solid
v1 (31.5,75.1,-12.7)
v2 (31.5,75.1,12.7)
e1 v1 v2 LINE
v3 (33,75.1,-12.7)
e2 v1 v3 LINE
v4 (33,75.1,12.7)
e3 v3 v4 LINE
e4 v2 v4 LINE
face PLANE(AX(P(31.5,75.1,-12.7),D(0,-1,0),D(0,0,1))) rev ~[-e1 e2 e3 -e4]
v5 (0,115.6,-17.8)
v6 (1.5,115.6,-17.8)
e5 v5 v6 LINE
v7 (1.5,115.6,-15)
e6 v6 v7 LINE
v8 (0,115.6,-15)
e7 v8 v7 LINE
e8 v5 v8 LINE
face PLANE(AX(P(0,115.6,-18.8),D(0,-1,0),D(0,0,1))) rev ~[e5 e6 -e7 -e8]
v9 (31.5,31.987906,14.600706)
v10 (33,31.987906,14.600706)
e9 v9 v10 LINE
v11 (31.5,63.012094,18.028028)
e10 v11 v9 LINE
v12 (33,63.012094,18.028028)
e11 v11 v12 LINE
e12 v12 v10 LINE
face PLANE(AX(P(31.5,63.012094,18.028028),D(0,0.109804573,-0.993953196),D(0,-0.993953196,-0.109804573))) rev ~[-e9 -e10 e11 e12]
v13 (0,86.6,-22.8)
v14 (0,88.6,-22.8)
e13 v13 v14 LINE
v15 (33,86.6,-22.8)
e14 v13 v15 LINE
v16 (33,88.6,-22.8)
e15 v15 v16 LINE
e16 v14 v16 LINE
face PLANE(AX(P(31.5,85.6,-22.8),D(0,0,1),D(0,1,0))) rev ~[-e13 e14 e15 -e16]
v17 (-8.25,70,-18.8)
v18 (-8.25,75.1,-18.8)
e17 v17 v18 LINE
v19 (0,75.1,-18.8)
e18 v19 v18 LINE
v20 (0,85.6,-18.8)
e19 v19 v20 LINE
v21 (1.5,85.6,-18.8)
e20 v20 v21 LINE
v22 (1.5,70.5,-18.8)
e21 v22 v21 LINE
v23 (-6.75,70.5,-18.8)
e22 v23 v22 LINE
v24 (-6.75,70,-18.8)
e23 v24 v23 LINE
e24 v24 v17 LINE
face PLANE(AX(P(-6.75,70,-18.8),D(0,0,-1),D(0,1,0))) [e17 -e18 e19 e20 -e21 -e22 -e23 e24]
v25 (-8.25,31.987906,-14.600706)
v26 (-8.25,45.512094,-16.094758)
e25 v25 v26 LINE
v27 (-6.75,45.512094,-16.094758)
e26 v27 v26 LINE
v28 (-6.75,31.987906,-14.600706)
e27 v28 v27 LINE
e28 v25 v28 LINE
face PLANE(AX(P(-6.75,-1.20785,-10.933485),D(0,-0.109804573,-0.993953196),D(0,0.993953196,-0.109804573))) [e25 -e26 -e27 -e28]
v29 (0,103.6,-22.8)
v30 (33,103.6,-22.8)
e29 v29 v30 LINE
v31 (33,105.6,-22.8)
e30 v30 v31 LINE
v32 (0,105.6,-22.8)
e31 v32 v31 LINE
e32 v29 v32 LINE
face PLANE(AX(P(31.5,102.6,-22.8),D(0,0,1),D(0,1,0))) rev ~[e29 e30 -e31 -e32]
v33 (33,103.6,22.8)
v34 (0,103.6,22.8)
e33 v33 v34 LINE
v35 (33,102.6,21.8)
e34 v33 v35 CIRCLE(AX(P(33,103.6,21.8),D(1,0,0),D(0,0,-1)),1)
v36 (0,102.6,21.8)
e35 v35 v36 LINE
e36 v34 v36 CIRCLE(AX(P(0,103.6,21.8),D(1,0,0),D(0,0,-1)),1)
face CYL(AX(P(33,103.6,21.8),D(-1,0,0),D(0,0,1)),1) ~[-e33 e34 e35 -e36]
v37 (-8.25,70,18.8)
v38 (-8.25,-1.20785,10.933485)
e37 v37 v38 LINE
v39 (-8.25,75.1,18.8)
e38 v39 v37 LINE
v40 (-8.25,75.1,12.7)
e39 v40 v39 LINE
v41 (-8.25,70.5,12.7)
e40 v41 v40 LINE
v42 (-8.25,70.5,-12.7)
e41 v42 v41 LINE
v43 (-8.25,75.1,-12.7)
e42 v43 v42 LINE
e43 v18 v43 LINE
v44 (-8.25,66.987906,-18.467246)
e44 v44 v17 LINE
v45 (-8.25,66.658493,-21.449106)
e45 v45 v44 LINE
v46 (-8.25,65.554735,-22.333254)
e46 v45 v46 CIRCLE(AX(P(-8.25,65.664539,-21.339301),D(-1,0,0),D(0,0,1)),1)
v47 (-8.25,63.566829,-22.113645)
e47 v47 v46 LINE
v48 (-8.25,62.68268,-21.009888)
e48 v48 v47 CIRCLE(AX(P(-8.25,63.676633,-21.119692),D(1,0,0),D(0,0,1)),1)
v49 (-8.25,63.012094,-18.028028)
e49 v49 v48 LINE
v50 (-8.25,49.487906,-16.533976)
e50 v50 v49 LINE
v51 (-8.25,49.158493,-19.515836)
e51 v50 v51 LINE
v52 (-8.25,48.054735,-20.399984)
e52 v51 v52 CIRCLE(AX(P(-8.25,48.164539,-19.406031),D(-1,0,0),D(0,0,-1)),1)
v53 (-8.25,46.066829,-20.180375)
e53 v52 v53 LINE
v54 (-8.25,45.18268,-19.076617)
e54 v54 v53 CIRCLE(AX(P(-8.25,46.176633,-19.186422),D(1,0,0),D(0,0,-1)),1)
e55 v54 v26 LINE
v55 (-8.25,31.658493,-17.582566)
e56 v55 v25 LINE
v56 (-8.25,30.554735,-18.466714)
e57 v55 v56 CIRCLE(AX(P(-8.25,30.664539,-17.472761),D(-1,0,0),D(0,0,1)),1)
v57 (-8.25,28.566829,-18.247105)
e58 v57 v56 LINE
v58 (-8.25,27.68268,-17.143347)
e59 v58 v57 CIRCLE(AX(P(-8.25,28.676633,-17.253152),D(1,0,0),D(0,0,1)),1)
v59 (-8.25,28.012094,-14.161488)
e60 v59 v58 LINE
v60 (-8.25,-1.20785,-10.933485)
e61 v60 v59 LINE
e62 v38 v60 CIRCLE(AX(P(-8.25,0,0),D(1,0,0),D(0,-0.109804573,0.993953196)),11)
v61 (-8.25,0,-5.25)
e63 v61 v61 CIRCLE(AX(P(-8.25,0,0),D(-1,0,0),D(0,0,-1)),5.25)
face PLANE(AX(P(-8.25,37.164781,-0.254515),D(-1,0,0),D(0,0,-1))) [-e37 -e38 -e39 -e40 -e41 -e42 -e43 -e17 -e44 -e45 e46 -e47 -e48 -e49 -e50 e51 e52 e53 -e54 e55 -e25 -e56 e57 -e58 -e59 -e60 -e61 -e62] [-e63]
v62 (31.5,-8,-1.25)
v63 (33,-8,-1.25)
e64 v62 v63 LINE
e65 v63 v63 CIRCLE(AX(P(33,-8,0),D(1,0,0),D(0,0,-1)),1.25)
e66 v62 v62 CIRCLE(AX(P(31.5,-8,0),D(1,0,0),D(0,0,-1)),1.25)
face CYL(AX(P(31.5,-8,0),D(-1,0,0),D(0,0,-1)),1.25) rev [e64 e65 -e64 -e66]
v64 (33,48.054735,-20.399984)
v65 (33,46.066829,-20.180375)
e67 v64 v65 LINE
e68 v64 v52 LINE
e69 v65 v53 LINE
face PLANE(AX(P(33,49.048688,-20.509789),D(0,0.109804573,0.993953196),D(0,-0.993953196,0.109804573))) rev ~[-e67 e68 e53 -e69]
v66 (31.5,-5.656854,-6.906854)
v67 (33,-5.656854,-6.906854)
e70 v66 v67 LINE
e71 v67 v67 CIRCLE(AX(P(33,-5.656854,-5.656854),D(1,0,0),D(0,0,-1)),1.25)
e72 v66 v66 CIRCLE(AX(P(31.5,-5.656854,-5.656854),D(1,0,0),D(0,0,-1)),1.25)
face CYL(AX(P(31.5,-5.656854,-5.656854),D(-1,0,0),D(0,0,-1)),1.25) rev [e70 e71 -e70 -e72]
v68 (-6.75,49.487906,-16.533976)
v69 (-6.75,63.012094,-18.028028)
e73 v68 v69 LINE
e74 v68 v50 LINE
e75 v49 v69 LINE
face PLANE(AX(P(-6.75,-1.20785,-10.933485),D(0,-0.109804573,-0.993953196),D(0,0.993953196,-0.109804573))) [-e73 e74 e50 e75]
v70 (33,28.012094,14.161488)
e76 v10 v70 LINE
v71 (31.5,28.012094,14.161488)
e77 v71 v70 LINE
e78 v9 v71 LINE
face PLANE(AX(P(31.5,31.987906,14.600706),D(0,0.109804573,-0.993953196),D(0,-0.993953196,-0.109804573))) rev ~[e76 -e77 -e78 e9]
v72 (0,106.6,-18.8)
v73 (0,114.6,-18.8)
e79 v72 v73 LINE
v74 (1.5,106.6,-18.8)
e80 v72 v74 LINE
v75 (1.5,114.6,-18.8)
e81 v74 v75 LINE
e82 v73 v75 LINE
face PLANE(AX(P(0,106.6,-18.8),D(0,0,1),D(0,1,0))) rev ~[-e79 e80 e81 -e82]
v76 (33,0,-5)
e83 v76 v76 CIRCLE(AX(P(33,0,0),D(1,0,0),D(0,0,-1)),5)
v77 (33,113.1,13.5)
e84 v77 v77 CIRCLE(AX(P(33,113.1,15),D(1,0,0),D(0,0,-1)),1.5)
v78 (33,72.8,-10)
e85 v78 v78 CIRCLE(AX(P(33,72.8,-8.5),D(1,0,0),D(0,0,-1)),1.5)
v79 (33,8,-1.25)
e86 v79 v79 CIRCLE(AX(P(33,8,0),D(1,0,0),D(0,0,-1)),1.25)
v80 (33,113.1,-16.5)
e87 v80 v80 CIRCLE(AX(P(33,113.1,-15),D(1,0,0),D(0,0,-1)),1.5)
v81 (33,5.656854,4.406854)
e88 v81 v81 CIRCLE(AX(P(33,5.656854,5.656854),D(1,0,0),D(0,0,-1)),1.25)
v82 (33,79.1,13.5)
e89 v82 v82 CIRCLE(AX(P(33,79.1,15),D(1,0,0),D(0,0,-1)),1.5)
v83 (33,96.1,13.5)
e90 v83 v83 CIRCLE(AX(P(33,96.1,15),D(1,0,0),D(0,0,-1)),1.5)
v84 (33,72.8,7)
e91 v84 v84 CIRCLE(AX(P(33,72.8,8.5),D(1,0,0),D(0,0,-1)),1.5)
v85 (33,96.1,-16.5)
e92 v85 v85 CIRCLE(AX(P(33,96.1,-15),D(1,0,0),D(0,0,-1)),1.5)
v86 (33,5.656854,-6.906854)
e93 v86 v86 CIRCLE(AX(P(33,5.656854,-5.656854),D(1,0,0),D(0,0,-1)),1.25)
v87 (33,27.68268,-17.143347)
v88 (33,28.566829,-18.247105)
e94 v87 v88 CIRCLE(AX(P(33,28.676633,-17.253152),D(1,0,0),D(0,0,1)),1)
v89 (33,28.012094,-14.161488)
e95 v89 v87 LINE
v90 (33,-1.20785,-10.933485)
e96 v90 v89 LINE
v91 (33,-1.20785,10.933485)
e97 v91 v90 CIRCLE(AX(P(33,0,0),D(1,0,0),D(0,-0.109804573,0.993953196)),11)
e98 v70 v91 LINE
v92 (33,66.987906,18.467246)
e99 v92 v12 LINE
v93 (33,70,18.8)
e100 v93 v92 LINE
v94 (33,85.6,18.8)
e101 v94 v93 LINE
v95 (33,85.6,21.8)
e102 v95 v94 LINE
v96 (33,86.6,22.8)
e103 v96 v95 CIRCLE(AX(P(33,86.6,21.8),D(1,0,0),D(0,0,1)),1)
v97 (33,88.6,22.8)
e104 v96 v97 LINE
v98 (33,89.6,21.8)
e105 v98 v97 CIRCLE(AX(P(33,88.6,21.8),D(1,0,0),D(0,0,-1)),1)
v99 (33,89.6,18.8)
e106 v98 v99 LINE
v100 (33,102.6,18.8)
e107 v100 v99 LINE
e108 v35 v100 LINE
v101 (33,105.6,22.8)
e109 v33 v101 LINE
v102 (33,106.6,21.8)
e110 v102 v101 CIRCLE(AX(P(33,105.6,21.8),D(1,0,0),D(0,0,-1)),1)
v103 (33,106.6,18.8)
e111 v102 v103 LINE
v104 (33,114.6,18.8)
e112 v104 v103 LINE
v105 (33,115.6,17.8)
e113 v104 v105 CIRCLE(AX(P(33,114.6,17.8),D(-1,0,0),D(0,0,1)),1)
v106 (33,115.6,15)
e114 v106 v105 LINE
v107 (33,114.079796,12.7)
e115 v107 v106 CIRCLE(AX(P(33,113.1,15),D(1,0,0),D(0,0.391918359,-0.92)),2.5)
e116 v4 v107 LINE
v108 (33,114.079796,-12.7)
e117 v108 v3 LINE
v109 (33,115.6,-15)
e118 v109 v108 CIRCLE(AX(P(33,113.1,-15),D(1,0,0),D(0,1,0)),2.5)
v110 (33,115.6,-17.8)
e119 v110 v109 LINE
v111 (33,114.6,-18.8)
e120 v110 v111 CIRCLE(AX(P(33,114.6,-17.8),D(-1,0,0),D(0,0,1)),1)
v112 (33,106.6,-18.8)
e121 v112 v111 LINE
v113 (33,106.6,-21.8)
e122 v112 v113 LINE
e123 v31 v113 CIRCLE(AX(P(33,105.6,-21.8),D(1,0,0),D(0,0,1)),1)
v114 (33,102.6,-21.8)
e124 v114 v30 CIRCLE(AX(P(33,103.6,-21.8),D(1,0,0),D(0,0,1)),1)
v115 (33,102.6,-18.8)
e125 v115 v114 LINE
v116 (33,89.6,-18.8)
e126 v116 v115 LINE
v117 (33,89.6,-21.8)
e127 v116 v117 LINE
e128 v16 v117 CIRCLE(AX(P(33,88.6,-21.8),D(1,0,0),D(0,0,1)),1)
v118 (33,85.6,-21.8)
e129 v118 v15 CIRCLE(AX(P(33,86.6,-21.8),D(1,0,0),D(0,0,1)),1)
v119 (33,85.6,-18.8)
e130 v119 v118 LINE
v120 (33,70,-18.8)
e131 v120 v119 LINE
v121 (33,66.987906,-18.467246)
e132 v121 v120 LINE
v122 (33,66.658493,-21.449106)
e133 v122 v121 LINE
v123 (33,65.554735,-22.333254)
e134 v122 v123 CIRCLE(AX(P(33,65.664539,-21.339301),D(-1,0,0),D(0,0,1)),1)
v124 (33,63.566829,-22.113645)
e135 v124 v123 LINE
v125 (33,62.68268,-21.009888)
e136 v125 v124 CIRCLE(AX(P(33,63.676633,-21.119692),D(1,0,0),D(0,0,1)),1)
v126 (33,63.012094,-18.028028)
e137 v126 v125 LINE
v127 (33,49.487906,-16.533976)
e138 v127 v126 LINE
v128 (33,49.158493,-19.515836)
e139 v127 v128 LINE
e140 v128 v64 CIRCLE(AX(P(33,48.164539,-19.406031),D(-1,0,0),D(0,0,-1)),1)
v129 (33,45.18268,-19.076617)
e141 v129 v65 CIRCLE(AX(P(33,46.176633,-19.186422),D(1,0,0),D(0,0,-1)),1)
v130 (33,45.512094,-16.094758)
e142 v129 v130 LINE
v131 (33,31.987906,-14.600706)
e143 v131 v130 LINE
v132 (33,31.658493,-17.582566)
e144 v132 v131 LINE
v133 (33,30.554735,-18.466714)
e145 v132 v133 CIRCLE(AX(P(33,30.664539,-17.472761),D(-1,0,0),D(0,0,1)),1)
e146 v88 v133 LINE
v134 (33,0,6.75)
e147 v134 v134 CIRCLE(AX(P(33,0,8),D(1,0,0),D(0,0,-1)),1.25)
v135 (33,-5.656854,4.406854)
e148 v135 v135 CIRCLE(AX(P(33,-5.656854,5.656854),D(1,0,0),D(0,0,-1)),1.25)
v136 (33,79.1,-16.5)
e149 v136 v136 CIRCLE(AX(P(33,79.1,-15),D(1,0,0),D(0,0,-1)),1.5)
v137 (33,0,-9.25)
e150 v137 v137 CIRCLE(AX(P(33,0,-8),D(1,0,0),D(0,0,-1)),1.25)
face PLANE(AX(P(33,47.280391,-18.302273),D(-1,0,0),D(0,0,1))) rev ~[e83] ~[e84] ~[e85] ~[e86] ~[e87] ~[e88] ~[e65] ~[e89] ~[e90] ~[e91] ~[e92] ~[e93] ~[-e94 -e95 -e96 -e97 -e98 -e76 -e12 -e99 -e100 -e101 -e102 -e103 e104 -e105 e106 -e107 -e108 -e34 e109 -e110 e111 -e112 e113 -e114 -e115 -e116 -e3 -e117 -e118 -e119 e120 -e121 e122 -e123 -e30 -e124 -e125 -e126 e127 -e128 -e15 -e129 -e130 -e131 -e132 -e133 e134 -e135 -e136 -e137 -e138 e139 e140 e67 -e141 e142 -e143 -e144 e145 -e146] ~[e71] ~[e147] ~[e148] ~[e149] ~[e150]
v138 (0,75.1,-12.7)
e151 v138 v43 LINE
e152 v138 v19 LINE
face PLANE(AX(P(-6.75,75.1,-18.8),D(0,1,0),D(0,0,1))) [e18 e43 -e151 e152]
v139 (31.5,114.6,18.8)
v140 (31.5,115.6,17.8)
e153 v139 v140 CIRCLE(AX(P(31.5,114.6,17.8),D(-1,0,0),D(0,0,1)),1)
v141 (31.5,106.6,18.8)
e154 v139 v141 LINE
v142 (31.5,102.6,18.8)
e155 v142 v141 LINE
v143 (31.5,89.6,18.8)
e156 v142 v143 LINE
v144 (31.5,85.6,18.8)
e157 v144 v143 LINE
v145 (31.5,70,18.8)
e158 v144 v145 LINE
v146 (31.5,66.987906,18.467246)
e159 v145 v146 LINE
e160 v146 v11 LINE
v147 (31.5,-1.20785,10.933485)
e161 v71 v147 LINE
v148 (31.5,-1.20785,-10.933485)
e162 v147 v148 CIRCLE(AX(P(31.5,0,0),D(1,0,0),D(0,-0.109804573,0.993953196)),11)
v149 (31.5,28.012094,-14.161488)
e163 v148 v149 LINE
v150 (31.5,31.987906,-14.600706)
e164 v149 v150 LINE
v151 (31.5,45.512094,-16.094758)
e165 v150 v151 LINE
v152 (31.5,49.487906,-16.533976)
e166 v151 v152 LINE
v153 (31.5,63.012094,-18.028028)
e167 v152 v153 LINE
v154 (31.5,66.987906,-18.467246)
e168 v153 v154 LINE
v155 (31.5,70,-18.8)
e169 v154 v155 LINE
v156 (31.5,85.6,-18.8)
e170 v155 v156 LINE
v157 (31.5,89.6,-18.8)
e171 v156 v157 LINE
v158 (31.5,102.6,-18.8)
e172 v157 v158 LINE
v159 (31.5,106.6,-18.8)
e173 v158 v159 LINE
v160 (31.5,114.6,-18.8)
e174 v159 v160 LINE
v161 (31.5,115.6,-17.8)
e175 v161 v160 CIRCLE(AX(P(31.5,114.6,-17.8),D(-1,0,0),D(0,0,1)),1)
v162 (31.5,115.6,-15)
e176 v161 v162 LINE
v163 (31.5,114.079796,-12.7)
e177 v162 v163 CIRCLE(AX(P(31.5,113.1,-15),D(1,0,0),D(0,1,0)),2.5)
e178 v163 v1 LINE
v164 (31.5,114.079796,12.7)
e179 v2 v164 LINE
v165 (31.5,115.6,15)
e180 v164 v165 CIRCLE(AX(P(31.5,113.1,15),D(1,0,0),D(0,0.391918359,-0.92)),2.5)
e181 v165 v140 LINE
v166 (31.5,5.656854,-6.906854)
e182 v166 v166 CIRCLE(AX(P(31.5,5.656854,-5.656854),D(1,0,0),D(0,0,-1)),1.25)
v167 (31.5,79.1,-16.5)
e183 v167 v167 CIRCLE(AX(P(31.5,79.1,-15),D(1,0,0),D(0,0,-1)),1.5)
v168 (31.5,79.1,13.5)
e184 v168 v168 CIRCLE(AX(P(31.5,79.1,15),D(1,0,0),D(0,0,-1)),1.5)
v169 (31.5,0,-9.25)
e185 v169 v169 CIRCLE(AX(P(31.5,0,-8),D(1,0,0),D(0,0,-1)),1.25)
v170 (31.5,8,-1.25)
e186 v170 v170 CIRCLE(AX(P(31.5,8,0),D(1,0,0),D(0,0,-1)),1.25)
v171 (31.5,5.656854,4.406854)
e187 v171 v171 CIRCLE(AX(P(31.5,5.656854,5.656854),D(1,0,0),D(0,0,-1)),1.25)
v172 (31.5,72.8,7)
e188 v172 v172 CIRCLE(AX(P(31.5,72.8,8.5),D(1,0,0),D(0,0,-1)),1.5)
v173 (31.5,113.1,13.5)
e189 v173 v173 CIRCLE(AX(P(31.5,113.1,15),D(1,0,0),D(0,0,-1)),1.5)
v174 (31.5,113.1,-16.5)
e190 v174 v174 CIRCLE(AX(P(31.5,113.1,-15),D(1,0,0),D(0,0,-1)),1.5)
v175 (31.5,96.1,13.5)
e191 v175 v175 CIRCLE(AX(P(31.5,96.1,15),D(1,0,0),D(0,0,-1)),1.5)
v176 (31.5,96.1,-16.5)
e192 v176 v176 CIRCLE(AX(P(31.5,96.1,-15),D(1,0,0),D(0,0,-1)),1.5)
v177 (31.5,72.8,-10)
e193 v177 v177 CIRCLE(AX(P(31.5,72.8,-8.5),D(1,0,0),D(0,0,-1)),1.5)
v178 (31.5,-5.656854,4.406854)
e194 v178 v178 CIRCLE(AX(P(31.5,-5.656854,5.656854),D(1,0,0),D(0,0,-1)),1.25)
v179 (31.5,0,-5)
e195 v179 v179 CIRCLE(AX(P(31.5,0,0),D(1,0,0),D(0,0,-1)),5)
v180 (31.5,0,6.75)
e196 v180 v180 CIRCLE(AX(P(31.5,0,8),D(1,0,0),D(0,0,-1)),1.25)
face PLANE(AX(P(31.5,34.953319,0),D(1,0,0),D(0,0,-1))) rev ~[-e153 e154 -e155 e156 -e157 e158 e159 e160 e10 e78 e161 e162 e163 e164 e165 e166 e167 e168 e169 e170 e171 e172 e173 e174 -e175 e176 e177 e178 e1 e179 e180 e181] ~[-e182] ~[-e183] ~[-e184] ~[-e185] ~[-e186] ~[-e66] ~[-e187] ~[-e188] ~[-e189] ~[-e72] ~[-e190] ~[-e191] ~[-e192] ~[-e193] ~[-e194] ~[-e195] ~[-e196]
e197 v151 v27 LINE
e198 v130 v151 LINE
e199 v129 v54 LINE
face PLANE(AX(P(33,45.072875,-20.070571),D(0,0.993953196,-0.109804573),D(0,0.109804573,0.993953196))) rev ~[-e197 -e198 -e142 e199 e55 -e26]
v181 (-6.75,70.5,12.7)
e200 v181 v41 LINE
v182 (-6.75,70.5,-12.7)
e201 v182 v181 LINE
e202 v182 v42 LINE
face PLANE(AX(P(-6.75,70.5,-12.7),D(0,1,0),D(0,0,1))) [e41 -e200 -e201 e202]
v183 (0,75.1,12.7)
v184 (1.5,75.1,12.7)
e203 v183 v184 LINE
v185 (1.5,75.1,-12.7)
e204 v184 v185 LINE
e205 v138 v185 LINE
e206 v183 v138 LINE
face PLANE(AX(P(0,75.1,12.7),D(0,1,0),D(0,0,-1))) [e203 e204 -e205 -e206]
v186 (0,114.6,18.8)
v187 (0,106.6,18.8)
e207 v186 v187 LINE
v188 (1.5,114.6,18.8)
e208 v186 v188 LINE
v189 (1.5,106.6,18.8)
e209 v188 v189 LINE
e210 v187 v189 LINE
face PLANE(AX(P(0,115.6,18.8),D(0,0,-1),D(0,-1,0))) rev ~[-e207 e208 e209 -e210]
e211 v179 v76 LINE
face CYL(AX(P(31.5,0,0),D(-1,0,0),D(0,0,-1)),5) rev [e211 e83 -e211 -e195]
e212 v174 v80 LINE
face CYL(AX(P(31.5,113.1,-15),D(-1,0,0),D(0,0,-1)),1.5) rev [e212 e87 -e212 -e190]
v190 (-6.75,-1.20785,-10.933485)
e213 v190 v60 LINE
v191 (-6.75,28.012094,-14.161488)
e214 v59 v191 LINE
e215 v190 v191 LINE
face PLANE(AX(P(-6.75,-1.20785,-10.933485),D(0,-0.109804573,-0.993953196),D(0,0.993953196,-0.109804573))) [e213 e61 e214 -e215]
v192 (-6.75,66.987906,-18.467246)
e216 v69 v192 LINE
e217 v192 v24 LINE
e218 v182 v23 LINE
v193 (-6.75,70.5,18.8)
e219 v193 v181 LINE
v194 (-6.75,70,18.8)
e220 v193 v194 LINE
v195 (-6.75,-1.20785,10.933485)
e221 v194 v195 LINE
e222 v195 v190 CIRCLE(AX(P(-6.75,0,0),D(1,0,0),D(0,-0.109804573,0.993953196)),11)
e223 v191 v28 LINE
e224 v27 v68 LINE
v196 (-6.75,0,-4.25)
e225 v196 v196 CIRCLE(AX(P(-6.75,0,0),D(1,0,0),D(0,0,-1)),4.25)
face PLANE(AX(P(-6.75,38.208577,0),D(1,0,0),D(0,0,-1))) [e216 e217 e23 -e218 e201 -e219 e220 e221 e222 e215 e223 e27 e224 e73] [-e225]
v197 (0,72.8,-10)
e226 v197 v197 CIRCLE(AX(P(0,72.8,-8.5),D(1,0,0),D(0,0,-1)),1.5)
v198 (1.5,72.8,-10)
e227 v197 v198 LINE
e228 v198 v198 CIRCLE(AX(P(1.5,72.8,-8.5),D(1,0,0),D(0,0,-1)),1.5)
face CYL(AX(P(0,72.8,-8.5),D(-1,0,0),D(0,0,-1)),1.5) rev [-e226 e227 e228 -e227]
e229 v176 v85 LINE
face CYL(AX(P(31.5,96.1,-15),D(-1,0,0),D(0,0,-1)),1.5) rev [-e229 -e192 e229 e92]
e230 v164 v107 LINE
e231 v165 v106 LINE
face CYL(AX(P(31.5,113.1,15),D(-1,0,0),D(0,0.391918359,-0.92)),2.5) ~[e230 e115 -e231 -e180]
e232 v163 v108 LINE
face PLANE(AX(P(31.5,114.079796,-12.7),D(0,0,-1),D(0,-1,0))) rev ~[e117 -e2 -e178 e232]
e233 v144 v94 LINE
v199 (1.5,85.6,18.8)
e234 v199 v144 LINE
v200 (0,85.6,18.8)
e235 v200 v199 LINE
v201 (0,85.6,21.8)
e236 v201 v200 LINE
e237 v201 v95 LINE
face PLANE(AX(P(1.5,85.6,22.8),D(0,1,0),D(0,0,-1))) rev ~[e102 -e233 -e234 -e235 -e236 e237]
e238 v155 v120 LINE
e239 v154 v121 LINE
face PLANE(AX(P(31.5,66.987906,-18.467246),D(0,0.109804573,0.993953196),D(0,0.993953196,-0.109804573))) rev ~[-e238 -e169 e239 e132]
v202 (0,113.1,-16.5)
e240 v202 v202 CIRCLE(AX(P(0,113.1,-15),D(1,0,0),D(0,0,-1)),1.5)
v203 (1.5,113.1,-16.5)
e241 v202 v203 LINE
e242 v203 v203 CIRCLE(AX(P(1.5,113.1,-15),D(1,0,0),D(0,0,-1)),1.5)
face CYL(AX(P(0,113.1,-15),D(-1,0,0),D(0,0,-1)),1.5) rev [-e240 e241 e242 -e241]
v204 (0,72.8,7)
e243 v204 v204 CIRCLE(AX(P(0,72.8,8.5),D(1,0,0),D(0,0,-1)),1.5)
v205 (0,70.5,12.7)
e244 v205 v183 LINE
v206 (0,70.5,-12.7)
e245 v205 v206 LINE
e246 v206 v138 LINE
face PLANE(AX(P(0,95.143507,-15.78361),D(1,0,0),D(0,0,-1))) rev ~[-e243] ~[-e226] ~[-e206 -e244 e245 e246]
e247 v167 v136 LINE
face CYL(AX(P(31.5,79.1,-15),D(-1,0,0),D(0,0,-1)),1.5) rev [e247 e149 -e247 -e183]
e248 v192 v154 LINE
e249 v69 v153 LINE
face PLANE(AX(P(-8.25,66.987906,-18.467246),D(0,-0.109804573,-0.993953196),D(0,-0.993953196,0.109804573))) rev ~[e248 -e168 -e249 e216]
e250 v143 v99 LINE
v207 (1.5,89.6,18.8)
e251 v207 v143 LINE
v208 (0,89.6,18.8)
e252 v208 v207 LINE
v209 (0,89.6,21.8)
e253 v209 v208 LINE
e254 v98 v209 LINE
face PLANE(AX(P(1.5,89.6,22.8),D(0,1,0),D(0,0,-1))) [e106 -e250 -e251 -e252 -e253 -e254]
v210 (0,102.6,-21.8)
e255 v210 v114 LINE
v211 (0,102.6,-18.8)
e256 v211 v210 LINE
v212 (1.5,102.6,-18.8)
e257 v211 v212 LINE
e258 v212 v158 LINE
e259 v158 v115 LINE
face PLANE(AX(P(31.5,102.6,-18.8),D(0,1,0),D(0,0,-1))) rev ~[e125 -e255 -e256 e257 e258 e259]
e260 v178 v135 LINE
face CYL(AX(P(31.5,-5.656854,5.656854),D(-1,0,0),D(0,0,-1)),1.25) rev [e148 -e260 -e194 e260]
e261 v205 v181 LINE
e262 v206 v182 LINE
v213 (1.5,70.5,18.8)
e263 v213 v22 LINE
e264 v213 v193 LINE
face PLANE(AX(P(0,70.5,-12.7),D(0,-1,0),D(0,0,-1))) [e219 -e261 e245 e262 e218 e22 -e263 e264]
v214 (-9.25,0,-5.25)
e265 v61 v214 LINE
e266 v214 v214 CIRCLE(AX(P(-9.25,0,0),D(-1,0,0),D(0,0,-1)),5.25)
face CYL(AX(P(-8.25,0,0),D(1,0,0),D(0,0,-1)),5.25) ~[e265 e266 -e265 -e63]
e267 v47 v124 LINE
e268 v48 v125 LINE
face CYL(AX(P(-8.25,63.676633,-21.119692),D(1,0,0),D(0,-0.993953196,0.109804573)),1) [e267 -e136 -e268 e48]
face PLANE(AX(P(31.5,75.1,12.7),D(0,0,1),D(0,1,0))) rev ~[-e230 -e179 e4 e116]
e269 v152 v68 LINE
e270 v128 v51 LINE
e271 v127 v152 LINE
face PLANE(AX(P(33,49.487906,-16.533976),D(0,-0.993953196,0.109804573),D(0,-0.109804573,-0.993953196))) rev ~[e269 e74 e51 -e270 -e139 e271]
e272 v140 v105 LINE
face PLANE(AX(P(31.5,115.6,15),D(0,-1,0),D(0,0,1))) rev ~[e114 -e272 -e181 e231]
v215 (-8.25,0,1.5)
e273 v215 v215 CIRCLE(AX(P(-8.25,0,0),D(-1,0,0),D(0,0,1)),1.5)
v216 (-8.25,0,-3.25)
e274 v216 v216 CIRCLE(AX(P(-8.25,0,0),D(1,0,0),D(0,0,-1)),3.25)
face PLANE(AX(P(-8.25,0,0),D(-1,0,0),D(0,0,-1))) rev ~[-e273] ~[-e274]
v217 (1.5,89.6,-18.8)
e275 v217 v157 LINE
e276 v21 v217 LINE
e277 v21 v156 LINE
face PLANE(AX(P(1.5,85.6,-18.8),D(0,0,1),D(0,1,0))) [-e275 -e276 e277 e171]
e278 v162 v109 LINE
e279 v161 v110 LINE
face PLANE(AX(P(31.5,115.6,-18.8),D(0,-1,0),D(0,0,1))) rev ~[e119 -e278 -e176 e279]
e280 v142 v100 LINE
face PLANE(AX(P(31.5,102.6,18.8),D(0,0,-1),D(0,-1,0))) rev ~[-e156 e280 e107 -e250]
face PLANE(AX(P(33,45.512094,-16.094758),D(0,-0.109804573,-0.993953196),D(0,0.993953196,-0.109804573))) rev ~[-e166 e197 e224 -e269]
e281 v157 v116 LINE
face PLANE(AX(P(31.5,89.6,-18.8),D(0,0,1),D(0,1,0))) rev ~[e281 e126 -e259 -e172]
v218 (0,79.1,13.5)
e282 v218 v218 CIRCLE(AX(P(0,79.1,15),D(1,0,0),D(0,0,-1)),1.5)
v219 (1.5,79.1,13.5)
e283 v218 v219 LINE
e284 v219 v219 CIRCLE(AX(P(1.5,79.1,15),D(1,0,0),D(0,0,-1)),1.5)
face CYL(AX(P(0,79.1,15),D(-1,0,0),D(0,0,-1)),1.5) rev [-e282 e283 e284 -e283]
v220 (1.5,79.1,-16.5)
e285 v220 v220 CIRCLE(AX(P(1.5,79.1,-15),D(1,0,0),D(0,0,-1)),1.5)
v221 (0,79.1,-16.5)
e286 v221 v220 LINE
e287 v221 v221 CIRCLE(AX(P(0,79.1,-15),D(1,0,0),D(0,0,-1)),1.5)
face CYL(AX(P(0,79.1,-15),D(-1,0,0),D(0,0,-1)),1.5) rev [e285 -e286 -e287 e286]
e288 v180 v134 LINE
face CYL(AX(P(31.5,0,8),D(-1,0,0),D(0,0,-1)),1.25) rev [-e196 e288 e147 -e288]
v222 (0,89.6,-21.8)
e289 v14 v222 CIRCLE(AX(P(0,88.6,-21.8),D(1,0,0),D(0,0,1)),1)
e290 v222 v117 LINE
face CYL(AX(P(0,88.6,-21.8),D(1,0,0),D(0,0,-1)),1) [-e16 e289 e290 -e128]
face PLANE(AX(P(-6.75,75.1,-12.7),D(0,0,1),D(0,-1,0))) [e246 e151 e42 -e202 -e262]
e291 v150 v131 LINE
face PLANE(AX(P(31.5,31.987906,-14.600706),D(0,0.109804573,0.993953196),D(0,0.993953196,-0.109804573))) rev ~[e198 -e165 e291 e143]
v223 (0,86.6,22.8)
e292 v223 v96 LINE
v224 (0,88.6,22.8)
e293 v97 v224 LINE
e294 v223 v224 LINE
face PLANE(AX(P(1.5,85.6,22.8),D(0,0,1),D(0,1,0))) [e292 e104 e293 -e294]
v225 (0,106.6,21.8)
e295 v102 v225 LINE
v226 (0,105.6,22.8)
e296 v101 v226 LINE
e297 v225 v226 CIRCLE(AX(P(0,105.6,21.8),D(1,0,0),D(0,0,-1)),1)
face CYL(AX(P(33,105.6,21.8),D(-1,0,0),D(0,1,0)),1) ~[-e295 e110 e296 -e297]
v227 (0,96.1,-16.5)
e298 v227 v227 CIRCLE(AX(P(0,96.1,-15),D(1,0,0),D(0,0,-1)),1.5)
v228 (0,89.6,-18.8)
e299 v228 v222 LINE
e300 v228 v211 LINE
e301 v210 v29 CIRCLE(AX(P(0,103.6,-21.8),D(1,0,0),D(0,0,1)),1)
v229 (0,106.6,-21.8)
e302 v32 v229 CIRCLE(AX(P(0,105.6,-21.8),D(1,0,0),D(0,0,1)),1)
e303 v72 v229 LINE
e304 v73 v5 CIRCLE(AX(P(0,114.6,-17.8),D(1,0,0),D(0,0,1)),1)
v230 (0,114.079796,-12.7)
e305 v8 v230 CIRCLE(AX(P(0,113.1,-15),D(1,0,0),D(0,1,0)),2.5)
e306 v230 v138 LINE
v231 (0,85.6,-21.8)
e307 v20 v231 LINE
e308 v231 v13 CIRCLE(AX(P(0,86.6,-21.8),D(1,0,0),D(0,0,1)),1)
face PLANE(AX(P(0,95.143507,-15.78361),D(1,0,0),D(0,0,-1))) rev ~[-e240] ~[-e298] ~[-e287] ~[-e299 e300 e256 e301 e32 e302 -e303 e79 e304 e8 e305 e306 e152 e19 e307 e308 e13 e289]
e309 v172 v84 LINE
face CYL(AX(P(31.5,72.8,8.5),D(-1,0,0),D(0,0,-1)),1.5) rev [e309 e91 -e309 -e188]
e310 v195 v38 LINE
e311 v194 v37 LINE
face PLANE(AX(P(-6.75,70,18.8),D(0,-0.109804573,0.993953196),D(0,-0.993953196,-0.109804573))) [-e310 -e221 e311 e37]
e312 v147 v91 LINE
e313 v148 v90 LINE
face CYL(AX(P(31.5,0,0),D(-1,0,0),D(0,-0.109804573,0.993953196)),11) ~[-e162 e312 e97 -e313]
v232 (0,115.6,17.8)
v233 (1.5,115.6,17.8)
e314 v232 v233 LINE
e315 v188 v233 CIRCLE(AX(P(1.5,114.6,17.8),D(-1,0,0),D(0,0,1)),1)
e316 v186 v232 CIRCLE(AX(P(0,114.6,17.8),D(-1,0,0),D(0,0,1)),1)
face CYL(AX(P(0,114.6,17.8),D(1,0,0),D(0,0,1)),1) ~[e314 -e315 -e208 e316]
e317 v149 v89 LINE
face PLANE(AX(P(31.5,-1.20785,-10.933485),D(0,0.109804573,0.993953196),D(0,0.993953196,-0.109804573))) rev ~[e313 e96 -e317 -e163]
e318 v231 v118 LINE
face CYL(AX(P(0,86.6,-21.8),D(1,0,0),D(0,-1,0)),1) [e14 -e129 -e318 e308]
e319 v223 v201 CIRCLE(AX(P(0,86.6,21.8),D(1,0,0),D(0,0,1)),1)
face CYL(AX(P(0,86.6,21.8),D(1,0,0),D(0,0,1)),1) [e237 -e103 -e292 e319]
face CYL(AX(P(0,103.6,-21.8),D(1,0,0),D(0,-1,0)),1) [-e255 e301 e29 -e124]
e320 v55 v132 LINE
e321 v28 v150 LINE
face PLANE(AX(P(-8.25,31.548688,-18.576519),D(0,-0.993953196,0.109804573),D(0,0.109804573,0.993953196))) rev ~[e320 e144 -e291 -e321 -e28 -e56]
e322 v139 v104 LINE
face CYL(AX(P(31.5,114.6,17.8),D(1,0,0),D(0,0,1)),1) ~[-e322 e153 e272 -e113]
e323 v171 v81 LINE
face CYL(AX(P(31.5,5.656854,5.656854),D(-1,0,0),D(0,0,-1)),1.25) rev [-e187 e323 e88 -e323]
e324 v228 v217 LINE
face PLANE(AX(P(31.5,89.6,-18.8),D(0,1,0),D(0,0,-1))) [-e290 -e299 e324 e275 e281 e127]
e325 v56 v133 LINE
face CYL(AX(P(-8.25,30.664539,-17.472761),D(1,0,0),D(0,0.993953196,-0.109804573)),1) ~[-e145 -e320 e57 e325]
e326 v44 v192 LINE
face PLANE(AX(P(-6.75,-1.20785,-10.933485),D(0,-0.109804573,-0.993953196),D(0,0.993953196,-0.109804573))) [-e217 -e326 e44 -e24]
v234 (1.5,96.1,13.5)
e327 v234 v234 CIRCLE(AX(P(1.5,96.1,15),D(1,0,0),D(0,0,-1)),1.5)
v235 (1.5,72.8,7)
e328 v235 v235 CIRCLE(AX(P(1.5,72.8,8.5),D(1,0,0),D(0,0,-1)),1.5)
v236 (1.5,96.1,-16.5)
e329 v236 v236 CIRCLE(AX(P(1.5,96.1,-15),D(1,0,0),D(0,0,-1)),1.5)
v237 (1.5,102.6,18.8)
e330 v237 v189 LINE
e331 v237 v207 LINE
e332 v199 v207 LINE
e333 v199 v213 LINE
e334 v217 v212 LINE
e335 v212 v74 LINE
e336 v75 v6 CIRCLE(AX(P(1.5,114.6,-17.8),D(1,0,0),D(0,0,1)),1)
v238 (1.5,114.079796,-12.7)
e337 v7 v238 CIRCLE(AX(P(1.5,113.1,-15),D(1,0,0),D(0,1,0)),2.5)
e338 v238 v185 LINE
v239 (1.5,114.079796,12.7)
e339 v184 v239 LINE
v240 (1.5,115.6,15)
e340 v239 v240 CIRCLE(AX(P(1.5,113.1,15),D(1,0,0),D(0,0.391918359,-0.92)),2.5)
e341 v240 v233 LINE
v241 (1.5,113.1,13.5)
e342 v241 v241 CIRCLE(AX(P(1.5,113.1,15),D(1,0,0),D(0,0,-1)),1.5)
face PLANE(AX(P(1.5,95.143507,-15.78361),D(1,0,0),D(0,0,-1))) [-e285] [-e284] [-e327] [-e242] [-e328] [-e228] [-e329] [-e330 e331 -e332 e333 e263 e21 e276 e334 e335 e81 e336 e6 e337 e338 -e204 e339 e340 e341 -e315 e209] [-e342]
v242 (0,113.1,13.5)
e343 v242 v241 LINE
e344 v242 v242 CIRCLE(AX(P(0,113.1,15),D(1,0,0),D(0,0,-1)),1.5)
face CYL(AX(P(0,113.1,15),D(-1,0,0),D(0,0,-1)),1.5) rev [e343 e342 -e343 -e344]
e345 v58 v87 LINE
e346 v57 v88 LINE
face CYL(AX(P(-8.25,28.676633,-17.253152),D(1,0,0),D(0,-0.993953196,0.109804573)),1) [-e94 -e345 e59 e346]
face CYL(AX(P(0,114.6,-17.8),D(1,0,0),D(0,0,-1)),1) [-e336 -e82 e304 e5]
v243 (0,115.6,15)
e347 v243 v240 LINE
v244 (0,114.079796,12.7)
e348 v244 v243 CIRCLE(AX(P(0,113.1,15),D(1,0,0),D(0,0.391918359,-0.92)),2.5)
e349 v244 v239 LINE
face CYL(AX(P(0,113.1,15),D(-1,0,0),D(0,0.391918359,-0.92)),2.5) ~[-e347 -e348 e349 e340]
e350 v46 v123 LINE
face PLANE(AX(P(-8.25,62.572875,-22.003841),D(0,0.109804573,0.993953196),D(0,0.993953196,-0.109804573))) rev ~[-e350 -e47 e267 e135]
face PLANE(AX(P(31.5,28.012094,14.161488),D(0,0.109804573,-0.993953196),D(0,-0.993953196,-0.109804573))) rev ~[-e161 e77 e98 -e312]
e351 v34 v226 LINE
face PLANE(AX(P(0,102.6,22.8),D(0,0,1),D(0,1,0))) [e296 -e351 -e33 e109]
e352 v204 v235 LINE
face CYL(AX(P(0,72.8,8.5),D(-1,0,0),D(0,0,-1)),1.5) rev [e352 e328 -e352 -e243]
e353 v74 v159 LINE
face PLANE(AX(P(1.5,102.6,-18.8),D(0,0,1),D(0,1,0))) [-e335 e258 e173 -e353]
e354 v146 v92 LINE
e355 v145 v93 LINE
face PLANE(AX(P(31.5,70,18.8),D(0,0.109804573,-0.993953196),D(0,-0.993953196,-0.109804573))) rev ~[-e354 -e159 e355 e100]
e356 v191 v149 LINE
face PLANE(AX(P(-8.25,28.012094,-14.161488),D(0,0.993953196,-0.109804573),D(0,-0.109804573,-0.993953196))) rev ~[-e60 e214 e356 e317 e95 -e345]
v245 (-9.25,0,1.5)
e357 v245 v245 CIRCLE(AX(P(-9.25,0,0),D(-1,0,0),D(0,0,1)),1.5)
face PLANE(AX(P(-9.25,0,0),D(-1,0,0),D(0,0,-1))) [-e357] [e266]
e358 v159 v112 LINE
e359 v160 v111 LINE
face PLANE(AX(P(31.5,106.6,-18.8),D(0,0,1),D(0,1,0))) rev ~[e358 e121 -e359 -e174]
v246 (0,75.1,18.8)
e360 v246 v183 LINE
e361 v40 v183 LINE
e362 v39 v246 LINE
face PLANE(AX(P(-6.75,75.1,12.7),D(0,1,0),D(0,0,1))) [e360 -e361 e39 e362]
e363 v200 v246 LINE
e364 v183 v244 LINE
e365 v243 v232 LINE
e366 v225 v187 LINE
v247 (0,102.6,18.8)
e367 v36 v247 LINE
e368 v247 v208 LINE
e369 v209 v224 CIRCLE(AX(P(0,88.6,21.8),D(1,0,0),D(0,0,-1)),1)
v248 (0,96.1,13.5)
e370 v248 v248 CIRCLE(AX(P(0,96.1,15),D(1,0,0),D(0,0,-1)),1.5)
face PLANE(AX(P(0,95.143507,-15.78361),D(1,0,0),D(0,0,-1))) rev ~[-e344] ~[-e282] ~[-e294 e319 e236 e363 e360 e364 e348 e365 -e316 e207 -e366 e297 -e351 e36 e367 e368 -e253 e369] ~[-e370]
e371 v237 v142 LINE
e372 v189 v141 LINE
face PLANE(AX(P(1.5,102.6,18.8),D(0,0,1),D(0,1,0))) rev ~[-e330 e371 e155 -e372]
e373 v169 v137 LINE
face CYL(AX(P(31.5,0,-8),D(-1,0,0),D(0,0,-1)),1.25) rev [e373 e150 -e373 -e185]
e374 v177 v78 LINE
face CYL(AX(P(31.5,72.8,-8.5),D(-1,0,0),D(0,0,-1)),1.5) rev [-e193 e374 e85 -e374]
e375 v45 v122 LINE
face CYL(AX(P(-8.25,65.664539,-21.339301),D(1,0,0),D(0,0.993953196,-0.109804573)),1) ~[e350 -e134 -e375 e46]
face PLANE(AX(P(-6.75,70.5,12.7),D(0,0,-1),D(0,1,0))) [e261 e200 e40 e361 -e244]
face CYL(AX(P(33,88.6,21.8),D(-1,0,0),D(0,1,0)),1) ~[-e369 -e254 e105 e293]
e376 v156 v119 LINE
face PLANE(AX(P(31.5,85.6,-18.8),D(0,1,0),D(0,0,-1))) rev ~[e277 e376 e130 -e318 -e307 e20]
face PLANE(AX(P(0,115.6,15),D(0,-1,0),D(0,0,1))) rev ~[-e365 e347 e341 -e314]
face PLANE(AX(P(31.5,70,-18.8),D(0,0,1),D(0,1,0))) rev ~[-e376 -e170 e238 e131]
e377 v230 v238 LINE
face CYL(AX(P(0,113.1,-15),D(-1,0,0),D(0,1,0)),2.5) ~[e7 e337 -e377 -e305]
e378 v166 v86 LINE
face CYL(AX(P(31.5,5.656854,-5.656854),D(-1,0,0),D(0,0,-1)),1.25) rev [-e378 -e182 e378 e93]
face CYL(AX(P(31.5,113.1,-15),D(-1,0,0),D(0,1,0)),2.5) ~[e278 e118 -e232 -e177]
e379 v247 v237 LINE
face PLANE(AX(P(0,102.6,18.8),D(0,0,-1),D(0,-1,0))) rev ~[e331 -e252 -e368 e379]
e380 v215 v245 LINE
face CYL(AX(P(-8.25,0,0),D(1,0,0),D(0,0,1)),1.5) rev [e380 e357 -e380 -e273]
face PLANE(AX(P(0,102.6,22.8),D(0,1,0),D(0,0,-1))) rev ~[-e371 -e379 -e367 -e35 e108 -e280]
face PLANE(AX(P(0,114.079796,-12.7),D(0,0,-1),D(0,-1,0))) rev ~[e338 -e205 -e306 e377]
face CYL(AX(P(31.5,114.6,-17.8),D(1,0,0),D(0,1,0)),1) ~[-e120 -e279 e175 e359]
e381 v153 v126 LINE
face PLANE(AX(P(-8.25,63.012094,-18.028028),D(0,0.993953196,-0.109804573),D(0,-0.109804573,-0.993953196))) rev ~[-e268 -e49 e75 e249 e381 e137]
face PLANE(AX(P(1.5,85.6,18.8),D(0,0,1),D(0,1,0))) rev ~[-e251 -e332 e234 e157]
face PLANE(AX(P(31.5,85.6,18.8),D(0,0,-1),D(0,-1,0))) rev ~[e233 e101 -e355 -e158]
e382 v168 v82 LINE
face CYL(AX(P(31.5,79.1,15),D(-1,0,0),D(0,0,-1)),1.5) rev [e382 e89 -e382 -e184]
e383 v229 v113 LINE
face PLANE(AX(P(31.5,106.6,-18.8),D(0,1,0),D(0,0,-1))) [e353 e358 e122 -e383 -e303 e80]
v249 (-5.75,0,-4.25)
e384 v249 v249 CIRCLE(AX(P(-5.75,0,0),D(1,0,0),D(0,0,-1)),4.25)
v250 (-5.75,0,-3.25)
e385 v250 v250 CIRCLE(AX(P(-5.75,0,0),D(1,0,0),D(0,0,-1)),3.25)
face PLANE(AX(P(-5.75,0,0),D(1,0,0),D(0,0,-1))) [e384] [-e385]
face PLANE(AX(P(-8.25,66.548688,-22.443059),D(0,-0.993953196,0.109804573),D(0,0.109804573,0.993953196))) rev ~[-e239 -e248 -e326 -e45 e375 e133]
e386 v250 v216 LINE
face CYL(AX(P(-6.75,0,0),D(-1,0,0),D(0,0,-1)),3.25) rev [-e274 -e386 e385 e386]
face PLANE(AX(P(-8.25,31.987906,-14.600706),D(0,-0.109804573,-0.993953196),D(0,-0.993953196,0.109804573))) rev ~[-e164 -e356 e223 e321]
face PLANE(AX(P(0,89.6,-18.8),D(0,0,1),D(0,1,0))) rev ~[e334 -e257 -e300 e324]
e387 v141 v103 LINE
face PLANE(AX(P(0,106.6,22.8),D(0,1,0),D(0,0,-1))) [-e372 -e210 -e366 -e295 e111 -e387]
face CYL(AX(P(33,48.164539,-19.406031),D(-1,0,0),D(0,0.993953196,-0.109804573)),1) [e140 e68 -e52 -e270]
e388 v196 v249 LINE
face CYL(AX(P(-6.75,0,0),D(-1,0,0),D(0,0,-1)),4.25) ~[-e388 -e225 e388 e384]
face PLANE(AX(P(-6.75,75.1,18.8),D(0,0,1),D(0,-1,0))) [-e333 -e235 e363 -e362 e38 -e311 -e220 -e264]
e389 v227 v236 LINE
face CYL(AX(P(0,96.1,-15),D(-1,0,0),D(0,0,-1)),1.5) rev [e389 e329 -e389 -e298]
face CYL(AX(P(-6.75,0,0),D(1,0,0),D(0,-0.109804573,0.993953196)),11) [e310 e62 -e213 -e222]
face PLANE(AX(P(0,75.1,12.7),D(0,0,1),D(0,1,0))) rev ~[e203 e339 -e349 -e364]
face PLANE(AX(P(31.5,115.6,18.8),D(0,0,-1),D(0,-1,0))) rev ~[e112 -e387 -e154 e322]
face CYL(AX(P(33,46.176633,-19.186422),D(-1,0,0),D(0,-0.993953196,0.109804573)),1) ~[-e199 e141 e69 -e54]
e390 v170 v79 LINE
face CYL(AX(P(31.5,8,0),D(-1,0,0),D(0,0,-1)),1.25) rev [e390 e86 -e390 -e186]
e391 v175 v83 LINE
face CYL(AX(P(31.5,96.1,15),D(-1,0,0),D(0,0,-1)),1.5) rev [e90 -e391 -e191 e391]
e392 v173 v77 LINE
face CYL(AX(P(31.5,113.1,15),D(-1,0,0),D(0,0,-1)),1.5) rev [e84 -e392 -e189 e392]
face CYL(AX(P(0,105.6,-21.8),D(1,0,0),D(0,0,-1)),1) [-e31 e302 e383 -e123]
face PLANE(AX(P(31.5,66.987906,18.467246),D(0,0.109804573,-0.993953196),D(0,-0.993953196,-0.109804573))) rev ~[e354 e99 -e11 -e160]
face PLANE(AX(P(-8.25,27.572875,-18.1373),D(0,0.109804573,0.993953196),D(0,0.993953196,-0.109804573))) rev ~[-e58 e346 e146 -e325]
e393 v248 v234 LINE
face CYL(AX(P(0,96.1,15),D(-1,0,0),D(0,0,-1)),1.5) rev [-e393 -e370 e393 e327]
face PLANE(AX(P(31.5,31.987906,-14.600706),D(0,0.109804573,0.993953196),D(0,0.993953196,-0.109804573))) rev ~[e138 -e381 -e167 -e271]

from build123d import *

# Parameters (mm, degrees)
SKETCH4_R            = 1.5
SKETCH4_W            = 25.4
SKETCH4_H            = 4.6
SKETCH4_W_2          = 6.1
SKETCH4_W_3          = 4
SKETCH4_H_2          = 4
BOSS_EXTRUDE1_DEPTH  = 1.5
SKETCH4_4_W          = 6.1
SKETCH4_4_H          = 4.6
BOSS_EXTRUDE3_DEPTH  = 6.75
BOSS_EXTRUDE4_START  = -6.75
SKETCH4_5_R          = 3.25
BOSS_EXTRUDE4_DEPTH  = 1.5
BOSS_EXTRUDE5_START  = -6.75
SKETCH4_7_R          = 4.25
SKETCH4_7_R_2        = 3.25
BOSS_EXTRUDE5_DEPTH  = 1
SKETCH5_R            = 5.25
SKETCH5_R_2          = 1.5
BOSS_EXTRUDE6_DEPTH  = 1
BOSS_EXTRUDE7_START  = 31.5
SKETCH4_9_R          = 1.25
SKETCH4_9_R_2        = 5
SKETCH4_9_R_3        = 1.5
SKETCH4_9_W          = 6.1
SKETCH4_9_H          = 4.6
SKETCH4_9_W_2        = 25.4
SKETCH4_9_W_3        = 4
SKETCH4_9_H_2        = 4
BOSS_EXTRUDE7_DEPTH  = 1.5
BOSS_EXTRUDE8_START  = 1.5
SKETCH4_11_W         = 4
SKETCH4_11_H         = 4
BOSS_EXTRUDE8_DEPTH  = 30
BOSS_EXTRUDE9_START  = -8.25
BOSS_EXTRUDE9_DEPTH  = 41.25
FILLET1_R            = 1
BOSS_EXTRUDE10_REACH = 127.173
FILLET3_R            = 1


with BuildPart() as part:
    # Sketch4 → Boss-Extrude1 (new body)
    with BuildSketch(Plane(origin=(0, 0, 0), x_dir=(0, 0, -1), z_dir=(1, 0, 0))):
        with BuildLine():
            Line((12.7, 113.1), (12.7, 75.1))
            Line((12.7, 75.1), (18.8, 75.1))
            Line((18.8, 75.1), (18.8, 85.6))
            Line((18.8, 85.6), (18.8, 89.6))
            Line((18.8, 89.6), (18.8, 102.6))
            Line((18.8, 102.6), (18.8, 106.6))
            Line((18.8, 106.6), (18.8, 115.6))
            Line((18.8, 115.6), (15, 115.6))
            ThreePointArc((15, 115.6), (13.621502583, 115.185604198), (12.7, 114.079795897))
            Line((12.7, 114.079795897), (12.7, 113.1))
        make_face()
        with Locations((15, 79.1)):
            Circle(SKETCH4_R, mode=Mode.SUBTRACT)
        with Locations((15, 96.1)):
            Circle(SKETCH4_R, mode=Mode.SUBTRACT)
        with Locations((15, 113.1)):
            Circle(SKETCH4_R, mode=Mode.SUBTRACT)
        with Locations((0, 72.8)):
            Rectangle(SKETCH4_W, SKETCH4_H)
        with Locations((-8.5, 72.8)):
            Circle(SKETCH4_R, mode=Mode.SUBTRACT)
        with Locations((8.5, 72.8)):
            Circle(SKETCH4_R, mode=Mode.SUBTRACT)
        with BuildLine():
            Line((-18.8, 75.1), (-12.7, 75.1))
            Line((-12.7, 75.1), (-12.7, 113.1))
            Line((-12.7, 113.1), (-12.7, 114.079795897))
            ThreePointArc((-12.7, 114.079795897), (-13.621502583, 115.185604198), (-15, 115.6))
            Line((-15, 115.6), (-18.8, 115.6))
            Line((-18.8, 115.6), (-18.8, 106.6))
            Line((-18.8, 106.6), (-18.8, 102.6))
            Line((-18.8, 102.6), (-18.8, 89.6))
            Line((-18.8, 89.6), (-18.8, 85.6))
            Line((-18.8, 85.6), (-18.8, 75.1))
        make_face()
        with Locations((-15, 79.1)):
            Circle(SKETCH4_R, mode=Mode.SUBTRACT)
        with Locations((-15, 96.1)):
            Circle(SKETCH4_R, mode=Mode.SUBTRACT)
        with Locations((-15, 113.1)):
            Circle(SKETCH4_R, mode=Mode.SUBTRACT)
        with Locations((15.75, 72.8)):
            Rectangle(SKETCH4_W_2, SKETCH4_H)
        with Locations((-15.75, 72.8)):
            Rectangle(SKETCH4_W_2, SKETCH4_H)
        with Locations((-20.8, 87.6)):
            Rectangle(SKETCH4_W_3, SKETCH4_H_2)
        with Locations((-20.8, 104.6)):
            Rectangle(SKETCH4_W_3, SKETCH4_H_2)
        with Locations((20.8, 104.6)):
            Rectangle(SKETCH4_W_3, SKETCH4_H_2)
        with Locations((20.8, 87.6)):
            Rectangle(SKETCH4_W_3, SKETCH4_H_2)
    extrude(amount=BOSS_EXTRUDE1_DEPTH)

    # Sketch4_4 → Boss-Extrude3 (add)
    with BuildSketch(Plane(origin=(0, 0, 0), x_dir=(0, 0, -1), z_dir=(1, 0, 0))):
        with Locations((15.75, 72.8)):
            Rectangle(SKETCH4_4_W, SKETCH4_4_H)
        with Locations((-15.75, 72.8)):
            Rectangle(SKETCH4_4_W, SKETCH4_4_H)
    extrude(amount=-BOSS_EXTRUDE3_DEPTH)

    # Sketch4_5 → Boss-Extrude4 (add)
    with BuildSketch(Plane(origin=(0, 0, 0), x_dir=(0, 0, -1), z_dir=(1, 0, 0)).offset(BOSS_EXTRUDE4_START)):
        with BuildLine():
            Line((-12.7, 70.5), (-12.7, 75.1))
            Line((-12.7, 75.1), (-18.8, 75.1))
            Line((-18.8, 75.1), (-18.8, 70))
            Line((-18.8, 70), (-10.933485156, -1.207850299))
            ThreePointArc((-10.933485156, -1.207850299), (0, -11), (10.933485156, -1.207850299))
            Line((10.933485156, -1.207850299), (18.8, 70))
            Line((18.8, 70), (18.8, 75.1))
            Line((18.8, 75.1), (12.7, 75.1))
            Line((12.7, 75.1), (12.7, 70.5))
            Line((12.7, 70.5), (-12.7, 70.5))
        make_face()
        Circle(SKETCH4_5_R, mode=Mode.SUBTRACT)
    extrude(amount=-BOSS_EXTRUDE4_DEPTH)

    # Sketch4_7 → Boss-Extrude5 (add)
    with BuildSketch(Plane(origin=(0, 0, 0), x_dir=(0, 0, -1), z_dir=(1, 0, 0)).offset(BOSS_EXTRUDE5_START)):
        Circle(SKETCH4_7_R)
        Circle(SKETCH4_7_R_2, mode=Mode.SUBTRACT)
    extrude(amount=BOSS_EXTRUDE5_DEPTH)

    # Sketch5 → Boss-Extrude6 (add)
    with BuildSketch(Plane.ZY.offset(8.25)):
        with Locations(Location((0, 0, 0), (0, 0, 180))):
            Circle(SKETCH5_R)
        Circle(SKETCH5_R_2, mode=Mode.SUBTRACT)
    extrude(amount=BOSS_EXTRUDE6_DEPTH)



with BuildPart() as body_2:
    # Sketch4_9 → Boss-Extrude7 (new body)
    with BuildSketch(Plane(origin=(0, 0, 0), x_dir=(0, 0, -1), z_dir=(1, 0, 0)).offset(BOSS_EXTRUDE7_START)):
        with BuildLine():
            Line((12.7, 70.5), (-12.7, 70.5))
            Line((-12.7, 70.5), (-18.8, 70.5))
            Line((-18.8, 70.5), (-18.8, 70))
            Line((-18.8, 70), (-18.467246252, 66.987906392))
            Line((-18.467246252, 66.987906392), (-18.028027961, 63.012093608))
            Line((-18.028027961, 63.012093608), (-14.600705998, 31.987906392))
            Line((-14.600705998, 31.987906392), (-14.161487708, 28.012093608))
            Line((-14.161487708, 28.012093608), (-10.933485156, -1.207850299))
            ThreePointArc((-10.933485156, -1.207850299), (0, -11), (10.933485156, -1.207850299))
            Line((10.933485156, -1.207850299), (14.161487708, 28.012093608))
            Line((14.161487708, 28.012093608), (14.600705998, 31.987906392))
            Line((14.600705998, 31.987906392), (18.028027961, 63.012093608))
            Line((18.028027961, 63.012093608), (18.467246252, 66.987906392))
            Line((18.467246252, 66.987906392), (18.8, 70))
            Line((18.8, 70), (18.8, 70.5))
            Line((18.8, 70.5), (12.7, 70.5))
        make_face()
        with Locations((-8, 0)):
            Circle(SKETCH4_9_R, mode=Mode.SUBTRACT)
        with Locations((-5.656854249, -5.656854249)):
            Circle(SKETCH4_9_R, mode=Mode.SUBTRACT)
        Circle(SKETCH4_9_R_2, mode=Mode.SUBTRACT)
        with Locations((-5.656854249, 5.656854249)):
            Circle(SKETCH4_9_R, mode=Mode.SUBTRACT)
        with Locations((0, 8)):
            Circle(SKETCH4_9_R, mode=Mode.SUBTRACT)
        with Locations((0, -8)):
            Circle(SKETCH4_9_R, mode=Mode.SUBTRACT)
        with Locations((5.656854249, -5.656854249)):
            Circle(SKETCH4_9_R, mode=Mode.SUBTRACT)
        with Locations((8, 0)):
            Circle(SKETCH4_9_R, mode=Mode.SUBTRACT)
        with Locations((5.656854249, 5.656854249)):
            Circle(SKETCH4_9_R, mode=Mode.SUBTRACT)
        with BuildLine():
            Line((-18.8, 75.1), (-12.7, 75.1))
            Line((-12.7, 75.1), (-12.7, 113.1))
            Line((-12.7, 113.1), (-12.7, 114.079795897))
            ThreePointArc((-12.7, 114.079795897), (-13.621502583, 115.185604198), (-15, 115.6))
            Line((-15, 115.6), (-18.8, 115.6))
            Line((-18.8, 115.6), (-18.8, 106.6))
            Line((-18.8, 106.6), (-18.8, 102.6))
            Line((-18.8, 102.6), (-18.8, 89.6))
            Line((-18.8, 89.6), (-18.8, 85.6))
            Line((-18.8, 85.6), (-18.8, 75.1))
        make_face()
        with Locations((-15, 79.1)):
            Circle(SKETCH4_9_R_3, mode=Mode.SUBTRACT)
        with Locations((-15, 96.1)):
            Circle(SKETCH4_9_R_3, mode=Mode.SUBTRACT)
        with Locations((-15, 113.1)):
            Circle(SKETCH4_9_R_3, mode=Mode.SUBTRACT)
        with Locations((-15.75, 72.8)):
            Rectangle(SKETCH4_9_W, SKETCH4_9_H)
        with Locations((15.75, 72.8)):
            Rectangle(SKETCH4_9_W, SKETCH4_9_H)
        with Locations((0, 72.8)):
            Rectangle(SKETCH4_9_W_2, SKETCH4_9_H)
        with Locations((-8.5, 72.8)):
            Circle(SKETCH4_9_R_3, mode=Mode.SUBTRACT)
        with Locations((8.5, 72.8)):
            Circle(SKETCH4_9_R_3, mode=Mode.SUBTRACT)
        with BuildLine():
            Line((12.7, 113.1), (12.7, 75.1))
            Line((12.7, 75.1), (18.8, 75.1))
            Line((18.8, 75.1), (18.8, 85.6))
            Line((18.8, 85.6), (18.8, 89.6))
            Line((18.8, 89.6), (18.8, 102.6))
            Line((18.8, 102.6), (18.8, 106.6))
            Line((18.8, 106.6), (18.8, 115.6))
            Line((18.8, 115.6), (15, 115.6))
            ThreePointArc((15, 115.6), (13.621502583, 115.185604198), (12.7, 114.079795897))
            Line((12.7, 114.079795897), (12.7, 113.1))
        make_face()
        with Locations((15, 79.1)):
            Circle(SKETCH4_9_R_3, mode=Mode.SUBTRACT)
        with Locations((15, 96.1)):
            Circle(SKETCH4_9_R_3, mode=Mode.SUBTRACT)
        with Locations((15, 113.1)):
            Circle(SKETCH4_9_R_3, mode=Mode.SUBTRACT)
        with Locations((-20.8, 104.6)):
            Rectangle(SKETCH4_9_W_3, SKETCH4_9_H_2)
        with Locations((-20.8, 87.6)):
            Rectangle(SKETCH4_9_W_3, SKETCH4_9_H_2)
        with Locations((20.8, 104.6)):
            Rectangle(SKETCH4_9_W_3, SKETCH4_9_H_2)
        with Locations((20.8, 87.6)):
            Rectangle(SKETCH4_9_W_3, SKETCH4_9_H_2)
    extrude(amount=BOSS_EXTRUDE7_DEPTH)


with BuildPart() as part_1:
    add(part.part)

    add(body_2.part)  # Boss-Extrude8 merges body 2
    # Sketch4_11 → Boss-Extrude8 (add)
    with BuildSketch(Plane(origin=(0, 0, 0), x_dir=(0, 0, -1), z_dir=(1, 0, 0)).offset(BOSS_EXTRUDE8_START)):
        with Locations((-20.8, 87.6)):
            Rectangle(SKETCH4_11_W, SKETCH4_11_H)
        with Locations((-20.8, 104.6)):
            Rectangle(SKETCH4_11_W, SKETCH4_11_H)
        with Locations((20.8, 104.6)):
            Rectangle(SKETCH4_11_W, SKETCH4_11_H)
        with Locations((20.8, 87.6)):
            Rectangle(SKETCH4_11_W, SKETCH4_11_H)
    extrude(amount=BOSS_EXTRUDE8_DEPTH)

    # Sketch4_12 → Boss-Extrude9 (add)
    with BuildSketch(Plane(origin=(0, 0, 0), x_dir=(0, 0, -1), z_dir=(1, 0, 0)).offset(BOSS_EXTRUDE9_START)):
        Polygon((22.443059036, 66.548688101), (18.467246252, 66.987906392), (18.028027961, 63.012093608), (22.003840745, 62.572875317), align=None)
        Polygon((18.576518782, 31.548688101), (14.600705998, 31.987906392), (14.161487708, 28.012093608), (18.137300492, 27.572875317), align=None)
    extrude(amount=BOSS_EXTRUDE9_DEPTH)

    # Fillet1
    fillet1_edges = [part_1.edges().sort_by_distance(p)[0] for p in [
        (32.25, 115.6, 18.8),
        (32.25, 115.6, -18.8),
        (0.75, 115.6, -18.8),
        (0.75, 115.6, 18.8),
        (16.5, 89.6, 22.8),
        (16.5, 85.6, 22.8),
        (16.5, 106.6, 22.8),
        (16.5, 102.6, 22.8),
        (16.5, 102.6, -22.8),
        (16.5, 106.6, -22.8),
        (16.5, 85.6, -22.8),
        (16.5, 89.6, -22.8),
    ]]
    fillet(fillet1_edges, radius=FILLET1_R)

    # Boss-Extrude10: up to this face of the body (flat: up to its plane)
    boss_extrude10_end = Plane(part_1.part.faces().sort_by_distance((-8.25, 37.164780502, -0.254514777))[0])
    # Sketch6 → Boss-Extrude10 (add, up to the picked face)
    with BuildSketch(Plane(origin=(33, 0, 0), x_dir=(0, 0, -1), z_dir=(1, 0, 0)), mode=Mode.PRIVATE) as boss_extrude10_sk1:
        Polygon((16.094757835, 45.512093608), (16.533976125, 49.487906392), (20.509788909, 49.048688101), (20.070570619, 45.072875318), align=None)
    boss_extrude10_tool1 = split(extrude(boss_extrude10_sk1.sketch, amount=-BOSS_EXTRUDE10_REACH, mode=Mode.PRIVATE), bisect_by=boss_extrude10_end, keep=Keep.BOTH, mode=Mode.PRIVATE)
    add(boss_extrude10_tool1.solids().sort_by(Axis((33, 47.280391, -18.302273), (-1, 0, 0)))[0])

    # Fillet3
    fillet3_edges = [part_1.edges().sort_by_distance(p)[0] for p in [
        (12.375, 66.548688101, -22.443059036),
        (12.375, 62.572875317, -22.003840745),
        (12.375, 31.548688101, -18.576518782),
        (12.375, 27.572875317, -18.137300492),
        (12.375, 45.072875318, -20.070570619),
        (12.375, 49.048688101, -20.509788909),
    ]]
    fillet(fillet3_edges, radius=FILLET3_R)


solid = part_1.part
